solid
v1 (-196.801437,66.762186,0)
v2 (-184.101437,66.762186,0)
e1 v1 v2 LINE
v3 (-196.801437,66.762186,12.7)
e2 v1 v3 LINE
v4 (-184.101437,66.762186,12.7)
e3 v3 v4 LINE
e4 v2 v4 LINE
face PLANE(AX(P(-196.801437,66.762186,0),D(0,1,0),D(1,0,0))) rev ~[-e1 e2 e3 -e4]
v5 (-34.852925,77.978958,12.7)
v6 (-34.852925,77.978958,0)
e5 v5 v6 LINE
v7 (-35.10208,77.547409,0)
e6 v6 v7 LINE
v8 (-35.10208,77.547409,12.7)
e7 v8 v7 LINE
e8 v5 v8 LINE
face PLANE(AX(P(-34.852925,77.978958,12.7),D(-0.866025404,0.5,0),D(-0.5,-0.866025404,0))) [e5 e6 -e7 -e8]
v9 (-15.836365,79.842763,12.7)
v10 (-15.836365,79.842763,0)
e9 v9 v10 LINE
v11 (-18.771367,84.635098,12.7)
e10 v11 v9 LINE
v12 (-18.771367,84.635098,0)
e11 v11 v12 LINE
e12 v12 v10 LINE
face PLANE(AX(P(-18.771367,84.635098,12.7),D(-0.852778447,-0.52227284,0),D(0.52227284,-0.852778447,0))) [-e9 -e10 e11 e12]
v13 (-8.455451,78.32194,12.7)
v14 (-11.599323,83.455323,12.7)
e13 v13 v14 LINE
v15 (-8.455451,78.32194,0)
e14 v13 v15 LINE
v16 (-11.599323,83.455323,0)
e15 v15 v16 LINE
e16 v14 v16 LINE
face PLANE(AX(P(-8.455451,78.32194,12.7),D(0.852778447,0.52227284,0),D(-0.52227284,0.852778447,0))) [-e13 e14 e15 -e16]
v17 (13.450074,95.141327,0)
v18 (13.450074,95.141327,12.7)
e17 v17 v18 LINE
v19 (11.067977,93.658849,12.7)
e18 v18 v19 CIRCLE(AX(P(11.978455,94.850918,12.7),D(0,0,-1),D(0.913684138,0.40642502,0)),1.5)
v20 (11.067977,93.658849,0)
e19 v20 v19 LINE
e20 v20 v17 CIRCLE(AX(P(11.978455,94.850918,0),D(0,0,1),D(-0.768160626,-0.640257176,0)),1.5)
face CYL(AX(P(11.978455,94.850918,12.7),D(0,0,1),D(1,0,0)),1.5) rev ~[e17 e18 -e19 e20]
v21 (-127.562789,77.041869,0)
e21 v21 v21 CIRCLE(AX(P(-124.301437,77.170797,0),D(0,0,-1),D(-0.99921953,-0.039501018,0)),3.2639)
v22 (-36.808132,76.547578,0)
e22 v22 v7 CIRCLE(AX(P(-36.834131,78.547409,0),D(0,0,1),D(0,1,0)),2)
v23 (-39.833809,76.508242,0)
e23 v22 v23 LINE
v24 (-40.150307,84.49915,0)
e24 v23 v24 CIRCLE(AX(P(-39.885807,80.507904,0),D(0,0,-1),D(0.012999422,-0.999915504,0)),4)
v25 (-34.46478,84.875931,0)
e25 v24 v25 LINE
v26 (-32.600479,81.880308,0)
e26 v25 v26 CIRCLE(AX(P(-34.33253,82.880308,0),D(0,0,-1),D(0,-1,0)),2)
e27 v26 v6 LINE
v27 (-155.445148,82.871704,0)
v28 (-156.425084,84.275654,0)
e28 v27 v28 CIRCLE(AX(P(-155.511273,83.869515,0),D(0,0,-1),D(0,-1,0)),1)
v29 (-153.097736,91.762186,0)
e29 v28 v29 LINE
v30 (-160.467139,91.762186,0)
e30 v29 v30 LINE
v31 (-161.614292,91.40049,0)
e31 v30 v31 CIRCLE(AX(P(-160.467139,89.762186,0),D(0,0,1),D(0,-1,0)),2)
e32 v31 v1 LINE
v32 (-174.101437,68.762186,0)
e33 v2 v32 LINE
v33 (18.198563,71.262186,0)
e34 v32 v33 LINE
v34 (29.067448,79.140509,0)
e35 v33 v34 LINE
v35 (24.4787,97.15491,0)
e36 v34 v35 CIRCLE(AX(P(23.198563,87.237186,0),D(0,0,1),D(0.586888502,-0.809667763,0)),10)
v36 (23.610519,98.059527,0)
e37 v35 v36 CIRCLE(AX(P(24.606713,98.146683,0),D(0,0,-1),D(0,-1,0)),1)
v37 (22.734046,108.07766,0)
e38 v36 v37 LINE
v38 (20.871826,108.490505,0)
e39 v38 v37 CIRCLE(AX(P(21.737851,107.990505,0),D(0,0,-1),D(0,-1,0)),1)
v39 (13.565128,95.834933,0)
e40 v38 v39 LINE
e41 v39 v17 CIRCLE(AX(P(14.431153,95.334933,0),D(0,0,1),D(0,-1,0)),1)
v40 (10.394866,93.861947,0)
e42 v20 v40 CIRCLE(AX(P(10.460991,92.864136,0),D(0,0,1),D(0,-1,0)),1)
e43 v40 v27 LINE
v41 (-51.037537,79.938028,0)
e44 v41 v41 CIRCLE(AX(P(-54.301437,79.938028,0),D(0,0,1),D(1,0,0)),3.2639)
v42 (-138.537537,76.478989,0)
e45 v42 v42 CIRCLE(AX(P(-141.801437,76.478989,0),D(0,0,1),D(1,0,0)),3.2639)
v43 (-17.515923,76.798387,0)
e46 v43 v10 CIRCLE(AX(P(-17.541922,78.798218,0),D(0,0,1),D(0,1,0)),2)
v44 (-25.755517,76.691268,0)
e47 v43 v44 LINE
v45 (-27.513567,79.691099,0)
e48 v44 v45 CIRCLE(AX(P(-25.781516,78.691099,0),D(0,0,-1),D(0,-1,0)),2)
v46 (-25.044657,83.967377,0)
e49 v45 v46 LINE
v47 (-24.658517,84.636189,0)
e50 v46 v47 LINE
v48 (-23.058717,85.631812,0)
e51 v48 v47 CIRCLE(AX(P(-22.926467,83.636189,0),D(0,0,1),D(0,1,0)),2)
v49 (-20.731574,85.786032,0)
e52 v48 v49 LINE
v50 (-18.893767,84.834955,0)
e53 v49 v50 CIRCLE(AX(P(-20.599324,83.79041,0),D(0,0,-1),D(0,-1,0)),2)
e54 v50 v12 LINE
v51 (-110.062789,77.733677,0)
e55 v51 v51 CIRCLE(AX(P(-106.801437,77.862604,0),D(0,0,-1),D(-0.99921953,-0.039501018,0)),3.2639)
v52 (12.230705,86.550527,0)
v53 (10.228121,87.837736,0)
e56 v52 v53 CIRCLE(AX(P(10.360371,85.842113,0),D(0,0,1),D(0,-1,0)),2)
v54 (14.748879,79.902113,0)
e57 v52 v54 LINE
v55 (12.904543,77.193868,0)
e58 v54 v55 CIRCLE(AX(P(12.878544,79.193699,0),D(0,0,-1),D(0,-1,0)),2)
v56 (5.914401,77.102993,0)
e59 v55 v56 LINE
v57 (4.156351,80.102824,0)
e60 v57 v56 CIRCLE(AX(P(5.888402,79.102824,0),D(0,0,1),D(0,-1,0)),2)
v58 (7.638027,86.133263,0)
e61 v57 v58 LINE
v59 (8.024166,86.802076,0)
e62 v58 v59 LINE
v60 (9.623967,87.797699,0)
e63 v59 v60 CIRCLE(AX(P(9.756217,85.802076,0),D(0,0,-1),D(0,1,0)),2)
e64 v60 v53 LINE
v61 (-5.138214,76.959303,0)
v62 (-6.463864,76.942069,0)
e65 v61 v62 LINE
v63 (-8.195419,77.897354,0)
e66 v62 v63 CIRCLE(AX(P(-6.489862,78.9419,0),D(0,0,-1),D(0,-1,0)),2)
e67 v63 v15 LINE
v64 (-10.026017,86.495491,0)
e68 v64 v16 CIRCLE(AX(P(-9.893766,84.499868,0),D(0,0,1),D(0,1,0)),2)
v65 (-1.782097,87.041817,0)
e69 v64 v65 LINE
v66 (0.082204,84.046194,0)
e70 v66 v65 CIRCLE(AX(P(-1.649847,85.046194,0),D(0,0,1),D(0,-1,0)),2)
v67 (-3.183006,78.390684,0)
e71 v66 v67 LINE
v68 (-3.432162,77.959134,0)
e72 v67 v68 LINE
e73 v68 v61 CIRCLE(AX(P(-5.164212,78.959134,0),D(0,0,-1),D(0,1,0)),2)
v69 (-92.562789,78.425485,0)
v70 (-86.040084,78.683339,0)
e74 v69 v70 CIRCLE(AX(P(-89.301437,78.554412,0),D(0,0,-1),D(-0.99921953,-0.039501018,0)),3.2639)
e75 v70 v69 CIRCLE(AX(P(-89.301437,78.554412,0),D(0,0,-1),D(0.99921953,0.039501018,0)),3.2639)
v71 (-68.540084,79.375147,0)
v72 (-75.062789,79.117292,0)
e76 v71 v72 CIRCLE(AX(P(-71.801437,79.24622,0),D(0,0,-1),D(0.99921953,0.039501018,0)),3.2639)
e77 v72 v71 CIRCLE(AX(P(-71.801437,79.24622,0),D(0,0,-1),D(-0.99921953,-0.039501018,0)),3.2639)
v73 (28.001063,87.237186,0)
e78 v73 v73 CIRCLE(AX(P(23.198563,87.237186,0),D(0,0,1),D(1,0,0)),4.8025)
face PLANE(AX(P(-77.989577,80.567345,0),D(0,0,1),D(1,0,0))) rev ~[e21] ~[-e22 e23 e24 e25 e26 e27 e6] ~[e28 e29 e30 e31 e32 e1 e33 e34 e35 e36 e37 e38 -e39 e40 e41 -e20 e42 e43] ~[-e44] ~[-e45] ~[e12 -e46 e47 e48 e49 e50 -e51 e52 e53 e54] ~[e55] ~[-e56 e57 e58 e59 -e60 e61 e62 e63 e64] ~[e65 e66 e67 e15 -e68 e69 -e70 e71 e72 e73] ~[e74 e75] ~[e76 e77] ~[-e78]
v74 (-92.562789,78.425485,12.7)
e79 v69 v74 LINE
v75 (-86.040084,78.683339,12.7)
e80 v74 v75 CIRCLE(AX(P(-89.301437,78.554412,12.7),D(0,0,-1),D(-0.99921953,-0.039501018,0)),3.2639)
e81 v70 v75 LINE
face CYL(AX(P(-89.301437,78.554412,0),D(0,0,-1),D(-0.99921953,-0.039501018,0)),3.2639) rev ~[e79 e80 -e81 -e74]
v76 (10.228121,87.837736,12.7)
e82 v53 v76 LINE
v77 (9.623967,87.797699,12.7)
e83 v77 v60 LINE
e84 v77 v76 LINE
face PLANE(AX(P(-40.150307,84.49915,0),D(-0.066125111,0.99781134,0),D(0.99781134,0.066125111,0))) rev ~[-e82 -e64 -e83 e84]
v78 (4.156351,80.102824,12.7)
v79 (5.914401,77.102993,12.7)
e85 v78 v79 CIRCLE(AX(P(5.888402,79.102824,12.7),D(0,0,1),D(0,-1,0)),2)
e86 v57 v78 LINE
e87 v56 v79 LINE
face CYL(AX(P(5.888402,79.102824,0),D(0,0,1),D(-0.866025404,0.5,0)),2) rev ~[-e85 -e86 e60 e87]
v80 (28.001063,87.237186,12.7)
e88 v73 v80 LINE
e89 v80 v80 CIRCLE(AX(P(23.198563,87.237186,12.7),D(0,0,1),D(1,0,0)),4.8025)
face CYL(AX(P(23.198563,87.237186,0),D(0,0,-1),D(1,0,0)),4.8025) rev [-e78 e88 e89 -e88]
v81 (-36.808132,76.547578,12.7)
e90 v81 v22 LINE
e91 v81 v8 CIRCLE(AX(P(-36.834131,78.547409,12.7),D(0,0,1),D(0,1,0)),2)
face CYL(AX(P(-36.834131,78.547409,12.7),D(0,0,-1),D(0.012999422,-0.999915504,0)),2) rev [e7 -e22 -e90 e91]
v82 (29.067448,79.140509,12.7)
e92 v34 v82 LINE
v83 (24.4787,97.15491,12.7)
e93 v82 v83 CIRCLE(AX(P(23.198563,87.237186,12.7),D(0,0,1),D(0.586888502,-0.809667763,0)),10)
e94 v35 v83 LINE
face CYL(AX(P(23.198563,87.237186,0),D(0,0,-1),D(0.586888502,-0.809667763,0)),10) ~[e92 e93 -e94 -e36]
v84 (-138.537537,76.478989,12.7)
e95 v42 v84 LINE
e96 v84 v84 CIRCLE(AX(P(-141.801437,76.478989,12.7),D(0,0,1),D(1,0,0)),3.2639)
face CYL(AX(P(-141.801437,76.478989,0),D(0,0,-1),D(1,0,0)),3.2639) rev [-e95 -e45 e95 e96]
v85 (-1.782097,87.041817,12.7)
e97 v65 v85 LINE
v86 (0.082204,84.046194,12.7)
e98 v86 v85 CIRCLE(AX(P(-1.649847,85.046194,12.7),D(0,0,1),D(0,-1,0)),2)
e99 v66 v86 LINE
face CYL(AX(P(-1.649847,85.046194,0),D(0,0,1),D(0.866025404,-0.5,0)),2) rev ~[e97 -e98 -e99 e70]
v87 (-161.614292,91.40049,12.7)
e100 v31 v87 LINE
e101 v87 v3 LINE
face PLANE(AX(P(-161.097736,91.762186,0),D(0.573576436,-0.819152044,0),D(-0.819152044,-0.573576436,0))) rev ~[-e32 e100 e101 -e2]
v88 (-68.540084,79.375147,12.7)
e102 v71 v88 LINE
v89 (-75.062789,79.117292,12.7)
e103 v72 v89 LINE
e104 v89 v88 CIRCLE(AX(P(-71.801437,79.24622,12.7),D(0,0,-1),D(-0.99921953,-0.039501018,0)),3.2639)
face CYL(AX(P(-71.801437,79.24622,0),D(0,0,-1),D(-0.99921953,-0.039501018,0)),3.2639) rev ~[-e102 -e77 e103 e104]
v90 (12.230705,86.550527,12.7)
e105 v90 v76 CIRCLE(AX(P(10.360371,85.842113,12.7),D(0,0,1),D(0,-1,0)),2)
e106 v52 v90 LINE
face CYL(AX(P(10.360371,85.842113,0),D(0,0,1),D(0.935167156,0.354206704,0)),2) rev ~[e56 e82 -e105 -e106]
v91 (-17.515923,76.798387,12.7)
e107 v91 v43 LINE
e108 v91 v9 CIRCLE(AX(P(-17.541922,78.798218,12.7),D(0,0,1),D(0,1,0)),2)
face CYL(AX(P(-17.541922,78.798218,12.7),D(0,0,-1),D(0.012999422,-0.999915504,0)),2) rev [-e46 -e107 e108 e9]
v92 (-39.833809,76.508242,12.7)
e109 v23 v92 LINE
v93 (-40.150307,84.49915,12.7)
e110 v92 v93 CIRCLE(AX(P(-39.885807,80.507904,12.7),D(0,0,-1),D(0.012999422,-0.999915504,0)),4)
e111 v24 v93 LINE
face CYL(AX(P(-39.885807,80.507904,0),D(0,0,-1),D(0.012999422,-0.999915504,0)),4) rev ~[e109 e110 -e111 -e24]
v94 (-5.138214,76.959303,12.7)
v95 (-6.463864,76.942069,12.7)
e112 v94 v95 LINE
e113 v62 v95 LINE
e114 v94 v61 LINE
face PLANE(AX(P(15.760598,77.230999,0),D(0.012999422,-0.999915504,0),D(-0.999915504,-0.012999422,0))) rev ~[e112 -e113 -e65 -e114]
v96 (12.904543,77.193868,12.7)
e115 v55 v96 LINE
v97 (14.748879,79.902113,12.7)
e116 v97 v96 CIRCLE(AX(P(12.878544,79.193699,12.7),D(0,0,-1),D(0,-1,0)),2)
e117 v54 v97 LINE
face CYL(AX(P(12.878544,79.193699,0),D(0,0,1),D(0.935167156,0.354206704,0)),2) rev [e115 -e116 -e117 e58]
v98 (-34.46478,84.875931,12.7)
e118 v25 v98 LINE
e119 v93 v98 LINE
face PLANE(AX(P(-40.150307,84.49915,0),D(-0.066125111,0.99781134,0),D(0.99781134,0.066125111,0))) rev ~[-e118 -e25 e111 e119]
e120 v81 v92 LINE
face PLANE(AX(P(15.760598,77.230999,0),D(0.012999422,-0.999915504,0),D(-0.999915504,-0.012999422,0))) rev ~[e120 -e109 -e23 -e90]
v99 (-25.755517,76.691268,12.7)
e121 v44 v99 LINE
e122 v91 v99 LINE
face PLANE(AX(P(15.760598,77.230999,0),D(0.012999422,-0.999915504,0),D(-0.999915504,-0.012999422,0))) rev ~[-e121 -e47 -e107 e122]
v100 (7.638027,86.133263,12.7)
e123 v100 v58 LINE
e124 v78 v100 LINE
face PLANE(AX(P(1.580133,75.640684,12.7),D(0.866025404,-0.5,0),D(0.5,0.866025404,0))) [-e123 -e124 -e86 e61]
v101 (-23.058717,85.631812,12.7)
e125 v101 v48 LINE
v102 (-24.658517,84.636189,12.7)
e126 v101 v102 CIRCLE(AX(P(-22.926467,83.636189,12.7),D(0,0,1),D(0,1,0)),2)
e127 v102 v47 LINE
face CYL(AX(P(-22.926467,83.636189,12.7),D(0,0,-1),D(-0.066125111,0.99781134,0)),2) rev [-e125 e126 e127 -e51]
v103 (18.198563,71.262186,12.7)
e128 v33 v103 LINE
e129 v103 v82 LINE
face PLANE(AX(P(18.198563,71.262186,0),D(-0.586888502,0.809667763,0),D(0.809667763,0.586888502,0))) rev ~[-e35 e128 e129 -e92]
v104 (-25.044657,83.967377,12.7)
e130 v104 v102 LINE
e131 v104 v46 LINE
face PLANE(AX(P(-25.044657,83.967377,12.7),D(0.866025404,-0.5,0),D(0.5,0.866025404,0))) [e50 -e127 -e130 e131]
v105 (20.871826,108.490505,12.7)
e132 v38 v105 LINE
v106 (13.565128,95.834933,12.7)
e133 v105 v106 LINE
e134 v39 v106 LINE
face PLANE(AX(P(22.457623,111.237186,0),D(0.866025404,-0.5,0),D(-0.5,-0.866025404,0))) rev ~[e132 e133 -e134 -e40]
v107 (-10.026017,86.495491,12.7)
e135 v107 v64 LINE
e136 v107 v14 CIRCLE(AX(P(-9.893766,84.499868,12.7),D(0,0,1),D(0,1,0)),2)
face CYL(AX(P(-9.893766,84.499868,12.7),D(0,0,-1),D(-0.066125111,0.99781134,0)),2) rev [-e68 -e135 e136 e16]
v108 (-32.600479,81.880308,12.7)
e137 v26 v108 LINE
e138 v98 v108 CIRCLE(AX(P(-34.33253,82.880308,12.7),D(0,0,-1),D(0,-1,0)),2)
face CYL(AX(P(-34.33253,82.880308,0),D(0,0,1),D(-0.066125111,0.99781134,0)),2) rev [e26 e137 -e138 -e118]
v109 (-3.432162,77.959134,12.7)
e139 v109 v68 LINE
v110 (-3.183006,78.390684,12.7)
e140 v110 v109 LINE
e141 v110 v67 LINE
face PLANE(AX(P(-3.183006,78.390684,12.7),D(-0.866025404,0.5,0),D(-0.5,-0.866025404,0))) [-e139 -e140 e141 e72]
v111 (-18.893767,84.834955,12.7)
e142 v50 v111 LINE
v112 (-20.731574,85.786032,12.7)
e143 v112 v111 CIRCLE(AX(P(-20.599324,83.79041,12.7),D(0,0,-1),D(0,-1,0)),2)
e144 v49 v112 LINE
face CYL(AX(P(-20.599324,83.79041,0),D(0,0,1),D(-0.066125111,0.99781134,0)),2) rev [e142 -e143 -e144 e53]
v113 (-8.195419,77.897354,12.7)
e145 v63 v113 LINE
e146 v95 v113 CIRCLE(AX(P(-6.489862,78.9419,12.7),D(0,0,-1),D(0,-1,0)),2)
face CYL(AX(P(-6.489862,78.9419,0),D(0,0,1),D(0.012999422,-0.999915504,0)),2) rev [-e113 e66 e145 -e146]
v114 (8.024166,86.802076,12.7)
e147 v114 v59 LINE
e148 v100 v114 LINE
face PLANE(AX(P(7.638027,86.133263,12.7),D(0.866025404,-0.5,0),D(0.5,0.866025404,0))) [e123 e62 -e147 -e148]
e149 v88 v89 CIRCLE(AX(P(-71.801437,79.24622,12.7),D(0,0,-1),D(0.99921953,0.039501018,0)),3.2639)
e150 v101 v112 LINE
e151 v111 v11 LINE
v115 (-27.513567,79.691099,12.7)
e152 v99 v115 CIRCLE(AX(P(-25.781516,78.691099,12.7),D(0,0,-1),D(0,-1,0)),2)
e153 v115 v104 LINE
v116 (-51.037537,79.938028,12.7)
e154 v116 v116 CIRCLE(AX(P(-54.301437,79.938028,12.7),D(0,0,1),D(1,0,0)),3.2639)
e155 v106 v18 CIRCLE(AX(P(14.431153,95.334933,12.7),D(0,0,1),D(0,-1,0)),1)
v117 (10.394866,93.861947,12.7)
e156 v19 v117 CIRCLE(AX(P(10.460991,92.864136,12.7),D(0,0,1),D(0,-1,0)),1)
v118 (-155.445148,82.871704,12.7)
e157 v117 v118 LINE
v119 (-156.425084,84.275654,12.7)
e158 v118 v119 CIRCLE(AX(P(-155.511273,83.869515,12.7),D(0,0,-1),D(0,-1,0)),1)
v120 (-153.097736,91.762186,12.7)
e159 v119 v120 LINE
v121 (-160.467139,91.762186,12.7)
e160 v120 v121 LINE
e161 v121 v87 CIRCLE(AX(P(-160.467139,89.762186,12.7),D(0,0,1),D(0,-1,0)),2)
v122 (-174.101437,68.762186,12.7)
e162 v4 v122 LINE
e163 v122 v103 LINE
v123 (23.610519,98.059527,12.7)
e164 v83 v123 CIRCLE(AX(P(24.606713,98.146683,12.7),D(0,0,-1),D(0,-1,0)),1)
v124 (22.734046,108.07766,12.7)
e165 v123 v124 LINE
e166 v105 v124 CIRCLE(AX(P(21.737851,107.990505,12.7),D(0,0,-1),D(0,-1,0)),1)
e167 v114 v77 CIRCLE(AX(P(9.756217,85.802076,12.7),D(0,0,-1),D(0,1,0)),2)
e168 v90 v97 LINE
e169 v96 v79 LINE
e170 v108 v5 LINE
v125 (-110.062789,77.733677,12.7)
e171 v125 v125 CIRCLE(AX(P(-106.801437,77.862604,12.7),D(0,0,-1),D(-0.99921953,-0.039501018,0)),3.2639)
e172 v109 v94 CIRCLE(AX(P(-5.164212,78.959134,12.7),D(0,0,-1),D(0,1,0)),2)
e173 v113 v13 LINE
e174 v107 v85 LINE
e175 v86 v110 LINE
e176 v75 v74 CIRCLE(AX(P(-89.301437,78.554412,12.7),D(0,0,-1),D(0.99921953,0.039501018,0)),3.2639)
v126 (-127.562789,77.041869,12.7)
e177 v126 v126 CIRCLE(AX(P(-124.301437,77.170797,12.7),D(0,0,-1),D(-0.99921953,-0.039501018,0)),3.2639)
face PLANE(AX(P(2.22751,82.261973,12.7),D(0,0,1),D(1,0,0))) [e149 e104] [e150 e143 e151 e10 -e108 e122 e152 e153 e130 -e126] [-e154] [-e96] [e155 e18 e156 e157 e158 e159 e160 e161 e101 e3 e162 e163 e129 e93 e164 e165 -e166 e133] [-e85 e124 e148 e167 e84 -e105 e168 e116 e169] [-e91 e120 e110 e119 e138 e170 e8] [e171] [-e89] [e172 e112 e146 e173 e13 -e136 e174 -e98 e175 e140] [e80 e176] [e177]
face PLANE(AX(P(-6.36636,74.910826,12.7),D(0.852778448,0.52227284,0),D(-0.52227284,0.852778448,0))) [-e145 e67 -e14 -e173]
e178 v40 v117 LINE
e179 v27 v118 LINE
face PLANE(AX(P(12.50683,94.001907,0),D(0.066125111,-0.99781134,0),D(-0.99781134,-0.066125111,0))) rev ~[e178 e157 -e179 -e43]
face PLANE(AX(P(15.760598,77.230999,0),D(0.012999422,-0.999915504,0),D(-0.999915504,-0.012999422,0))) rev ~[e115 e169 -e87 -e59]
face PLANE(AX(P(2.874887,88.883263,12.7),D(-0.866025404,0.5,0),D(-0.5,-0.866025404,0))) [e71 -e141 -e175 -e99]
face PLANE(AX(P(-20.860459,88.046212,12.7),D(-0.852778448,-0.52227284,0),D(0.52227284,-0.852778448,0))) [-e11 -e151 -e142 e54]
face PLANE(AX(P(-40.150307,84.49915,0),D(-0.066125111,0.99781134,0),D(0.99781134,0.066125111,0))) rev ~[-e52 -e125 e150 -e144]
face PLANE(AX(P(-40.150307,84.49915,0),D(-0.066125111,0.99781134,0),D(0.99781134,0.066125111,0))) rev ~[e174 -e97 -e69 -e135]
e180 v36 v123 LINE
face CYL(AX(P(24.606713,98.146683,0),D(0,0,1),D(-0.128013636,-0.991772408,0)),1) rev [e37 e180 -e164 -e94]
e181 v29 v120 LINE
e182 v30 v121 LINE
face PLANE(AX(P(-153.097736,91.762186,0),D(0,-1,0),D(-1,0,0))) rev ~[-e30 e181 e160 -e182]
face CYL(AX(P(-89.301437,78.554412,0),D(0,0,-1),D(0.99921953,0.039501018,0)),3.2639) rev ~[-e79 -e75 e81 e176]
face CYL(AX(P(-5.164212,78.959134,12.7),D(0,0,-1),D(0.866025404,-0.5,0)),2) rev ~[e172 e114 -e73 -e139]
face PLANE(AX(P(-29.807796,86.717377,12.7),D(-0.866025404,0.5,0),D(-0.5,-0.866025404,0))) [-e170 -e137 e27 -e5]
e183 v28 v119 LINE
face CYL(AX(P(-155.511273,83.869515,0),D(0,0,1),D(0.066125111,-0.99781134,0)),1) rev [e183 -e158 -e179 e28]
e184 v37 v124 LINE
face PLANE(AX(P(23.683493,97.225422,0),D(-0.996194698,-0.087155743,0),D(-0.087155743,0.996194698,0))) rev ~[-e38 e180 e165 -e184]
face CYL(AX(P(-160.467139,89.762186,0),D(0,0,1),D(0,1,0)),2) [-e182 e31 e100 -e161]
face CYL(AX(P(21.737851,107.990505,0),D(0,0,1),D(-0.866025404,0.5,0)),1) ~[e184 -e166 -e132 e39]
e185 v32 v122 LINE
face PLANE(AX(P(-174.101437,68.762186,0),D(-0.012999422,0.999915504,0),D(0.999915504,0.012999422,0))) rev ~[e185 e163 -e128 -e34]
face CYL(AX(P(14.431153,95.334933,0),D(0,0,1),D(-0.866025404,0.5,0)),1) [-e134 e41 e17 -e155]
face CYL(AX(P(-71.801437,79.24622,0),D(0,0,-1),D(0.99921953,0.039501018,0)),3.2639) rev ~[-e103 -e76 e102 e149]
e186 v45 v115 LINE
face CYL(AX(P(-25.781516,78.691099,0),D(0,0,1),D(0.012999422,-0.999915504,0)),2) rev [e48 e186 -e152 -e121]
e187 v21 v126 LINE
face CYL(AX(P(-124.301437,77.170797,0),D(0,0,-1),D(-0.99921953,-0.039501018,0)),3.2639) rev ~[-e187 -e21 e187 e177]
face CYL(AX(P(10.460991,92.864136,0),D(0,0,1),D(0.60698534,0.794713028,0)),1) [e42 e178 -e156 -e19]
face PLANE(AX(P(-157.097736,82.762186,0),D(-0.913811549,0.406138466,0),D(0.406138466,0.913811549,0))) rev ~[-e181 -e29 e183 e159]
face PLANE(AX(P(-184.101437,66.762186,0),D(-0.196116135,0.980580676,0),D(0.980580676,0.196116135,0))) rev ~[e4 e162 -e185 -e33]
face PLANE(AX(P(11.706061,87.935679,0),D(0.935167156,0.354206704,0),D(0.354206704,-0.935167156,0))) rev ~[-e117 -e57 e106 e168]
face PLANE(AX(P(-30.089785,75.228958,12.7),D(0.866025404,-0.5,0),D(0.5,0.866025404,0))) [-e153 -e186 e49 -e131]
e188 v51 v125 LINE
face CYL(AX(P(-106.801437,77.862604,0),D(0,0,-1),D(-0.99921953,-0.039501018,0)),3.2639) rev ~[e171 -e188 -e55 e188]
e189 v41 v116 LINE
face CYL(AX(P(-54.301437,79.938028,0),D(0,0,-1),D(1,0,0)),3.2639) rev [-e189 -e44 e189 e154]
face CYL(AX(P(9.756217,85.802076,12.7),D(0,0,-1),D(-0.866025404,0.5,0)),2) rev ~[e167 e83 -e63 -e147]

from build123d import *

# Parameters (mm, degrees)
SKETCH1_R           = 3.2639
SKETCH1_R_2         = 4.8025
BOSS_EXTRUDE1_DEPTH = 12.7
SKETCH2_R           = 1.5
CUT_EXTRUDE1_DEPTH  = 227.41953776
EXTRUDE_THIN1_DEPTH = 12.7
FILLET1_R           = 2
FILLET2_R           = 1
FILLET3_R           = 1
FILLET4_R           = 2
FILLET5_R           = 1


with BuildPart() as part:
    # Sketch1 → Boss-Extrude1 (new body)
    with BuildSketch(Plane.XY):
        with BuildLine():
            Line((-196.801436578, 66.762186411), (-184.101436578, 66.762186411))
            Line((-184.101436578, 66.762186411), (-174.101436578, 68.762186411))
            Line((-174.101436578, 68.762186411), (18.198563422, 71.262186411))
            Line((18.198563422, 71.262186411), (29.067448443, 79.140508783))
            ThreePointArc((29.067448443, 79.140508783), (32.782860984, 90.090472281), (23.683493494, 97.225421632))
            Line((23.683493494, 97.225421632), (22.457622919, 111.237186411))
            Line((22.457622919, 111.237186411), (12.506829792, 94.001907138))
            Line((12.506829792, 94.001907138), (-157.097736409, 82.762186411))
            Line((-157.097736409, 82.762186411), (-153.097736409, 91.762186411))
            Line((-153.097736409, 91.762186411), (-161.097736409, 91.762186411))
            Line((-161.097736409, 91.762186411), (-196.801436578, 66.762186411))
        make_face()
        with Locations((-141.801436578, 76.478988882)):
            Circle(SKETCH1_R, mode=Mode.SUBTRACT)
        with BuildLine():
            ThreePointArc((-121.040083953, 77.299723999), (-124.172509206, 73.909444003), (-127.562789202, 77.041869256))
            ThreePointArc((-127.562789202, 77.041869256), (-124.430363949, 80.432149252), (-121.040083953, 77.299723999))
        make_face(mode=Mode.SUBTRACT)
        with BuildLine():
            ThreePointArc((-103.540083953, 77.991531744), (-106.672509206, 74.601251748), (-110.062789202, 77.733677001))
            ThreePointArc((-110.062789202, 77.733677001), (-106.930363949, 81.123956997), (-103.540083953, 77.991531744))
        make_face(mode=Mode.SUBTRACT)
        with BuildLine():
            ThreePointArc((-86.040083953, 78.68333949), (-89.172509206, 75.293059493), (-92.562789202, 78.425484746))
            ThreePointArc((-92.562789202, 78.425484746), (-89.430363949, 81.815764743), (-86.040083953, 78.68333949))
        make_face(mode=Mode.SUBTRACT)
        with BuildLine():
            ThreePointArc((-68.540083953, 79.375147235), (-71.672509206, 75.984867239), (-75.062789202, 79.117292491))
            ThreePointArc((-75.062789202, 79.117292491), (-71.930363949, 82.507572488), (-68.540083953, 79.375147235))
        make_face(mode=Mode.SUBTRACT)
        with Locations((-54.301436578, 79.938027609)):
            Circle(SKETCH1_R, mode=Mode.SUBTRACT)
        with BuildLine():
            ThreePointArc((-39.833809225, 76.508242407), (-43.882673124, 80.349599411), (-40.150307356, 84.499149782))
            Line((-40.150307356, 84.499149782), (11.706060944, 87.935679297))
            Line((11.706060944, 87.935679297), (15.760597764, 77.230998609))
            Line((15.760597764, 77.230998609), (-39.833809225, 76.508242407))
        make_face(mode=Mode.SUBTRACT)
        with Locations((23.198563422, 87.237186411)):
            Circle(SKETCH1_R_2, mode=Mode.SUBTRACT)
    extrude(amount=BOSS_EXTRUDE1_DEPTH)

    # Sketch2 → Cut-Extrude1 (cut, through all)
    with BuildSketch(Plane.XY.offset(12.7)):
        with Locations((11.978454756, 94.850918223)):
            Circle(SKETCH2_R)
    extrude(amount=-CUT_EXTRUDE1_DEPTH, mode=Mode.SUBTRACT)

    # Sketch3 → Extrude-Thin1 (add)
    with BuildSketch(Plane.XY.offset(12.7)):
        Polygon((4.374887162, 91.481339263), (2.874887162, 88.883263052), (-3.183006438, 78.390683549), (-4.683006438, 75.792607338), (0.080133283, 73.042607338), (1.580133283, 75.640683549), (7.638026883, 86.133263052), (9.138026883, 88.731339263), align=None)
        Polygon((-6.366359526, 74.910825854), (-8.455450886, 78.321939644), (-14.081085771, 87.507598585), (-16.170177131, 90.918712375), (-20.860458592, 88.046211754), (-18.771367232, 84.635097964), (-13.145732348, 75.449439024), (-11.056640987, 72.038325234), align=None)
        Polygon((-28.307796362, 89.315452792), (-29.807796362, 86.71737658), (-34.852924598, 77.978958144), (-36.352924598, 75.380881933), (-31.589784877, 72.630881933), (-30.089784877, 75.228958144), (-25.044656641, 83.96737658), (-23.544656641, 86.565452792), align=None)
    extrude(amount=-EXTRUDE_THIN1_DEPTH)

    # Fillet1
    fillet1_edges = [part.edges().sort_by_distance(p)[0] for p in [
        (-4.000877594, 76.974089152, 6.35),
        (1.954701783, 87.289455223, 6.35),
        (2.398004439, 77.057277946, 6.35),
        (8.558212262, 87.72707088, 6.35),
        (-13.999872127, 76.844097024, 6.35),
        (-19.525203724, 85.865978577, 6.35),
        (-7.601311108, 76.927281645, 6.35),
        (-13.327249279, 86.276717973, 6.35),
        (-35.670795755, 76.562363747, 6.35),
        (-30.727981741, 85.123568752, 6.35),
        (-29.271913721, 76.645552541, 6.35),
        (-24.124471262, 85.561184409, 6.35),
        (15.760597764, 77.230998609, 6.35),
        (11.706060944, 87.935679297, 6.35),
    ]]
    fillet(fillet1_edges, radius=FILLET1_R)

    # Fillet2
    fillet2_edges = [part.edges().sort_by_distance(p)[0] for p in [
        (13.348980962, 95.460555753, 6.35),
        (10.826213816, 93.890532459, 6.35),
    ]]
    fillet(fillet2_edges, radius=FILLET2_R)

    # Fillet3
    fillet3_edges = [part.edges().sort_by_distance(p)[0] for p in [
        (-157.097736409, 82.762186411, 6.35),
    ]]
    fillet(fillet3_edges, radius=FILLET3_R)

    # Fillet4
    fillet4_edges = [part.edges().sort_by_distance(p)[0] for p in [
        (-161.097736409, 91.762186411, 6.35),
    ]]
    fillet(fillet4_edges, radius=FILLET4_R)

    # Fillet5
    fillet5_edges = [part.edges().sort_by_distance(p)[0] for p in [
        (22.457622919, 111.237186411, 6.35),
        (23.683493494, 97.225421632, 6.35),
    ]]
    fillet(fillet5_edges, radius=FILLET5_R)


solid = part.part
